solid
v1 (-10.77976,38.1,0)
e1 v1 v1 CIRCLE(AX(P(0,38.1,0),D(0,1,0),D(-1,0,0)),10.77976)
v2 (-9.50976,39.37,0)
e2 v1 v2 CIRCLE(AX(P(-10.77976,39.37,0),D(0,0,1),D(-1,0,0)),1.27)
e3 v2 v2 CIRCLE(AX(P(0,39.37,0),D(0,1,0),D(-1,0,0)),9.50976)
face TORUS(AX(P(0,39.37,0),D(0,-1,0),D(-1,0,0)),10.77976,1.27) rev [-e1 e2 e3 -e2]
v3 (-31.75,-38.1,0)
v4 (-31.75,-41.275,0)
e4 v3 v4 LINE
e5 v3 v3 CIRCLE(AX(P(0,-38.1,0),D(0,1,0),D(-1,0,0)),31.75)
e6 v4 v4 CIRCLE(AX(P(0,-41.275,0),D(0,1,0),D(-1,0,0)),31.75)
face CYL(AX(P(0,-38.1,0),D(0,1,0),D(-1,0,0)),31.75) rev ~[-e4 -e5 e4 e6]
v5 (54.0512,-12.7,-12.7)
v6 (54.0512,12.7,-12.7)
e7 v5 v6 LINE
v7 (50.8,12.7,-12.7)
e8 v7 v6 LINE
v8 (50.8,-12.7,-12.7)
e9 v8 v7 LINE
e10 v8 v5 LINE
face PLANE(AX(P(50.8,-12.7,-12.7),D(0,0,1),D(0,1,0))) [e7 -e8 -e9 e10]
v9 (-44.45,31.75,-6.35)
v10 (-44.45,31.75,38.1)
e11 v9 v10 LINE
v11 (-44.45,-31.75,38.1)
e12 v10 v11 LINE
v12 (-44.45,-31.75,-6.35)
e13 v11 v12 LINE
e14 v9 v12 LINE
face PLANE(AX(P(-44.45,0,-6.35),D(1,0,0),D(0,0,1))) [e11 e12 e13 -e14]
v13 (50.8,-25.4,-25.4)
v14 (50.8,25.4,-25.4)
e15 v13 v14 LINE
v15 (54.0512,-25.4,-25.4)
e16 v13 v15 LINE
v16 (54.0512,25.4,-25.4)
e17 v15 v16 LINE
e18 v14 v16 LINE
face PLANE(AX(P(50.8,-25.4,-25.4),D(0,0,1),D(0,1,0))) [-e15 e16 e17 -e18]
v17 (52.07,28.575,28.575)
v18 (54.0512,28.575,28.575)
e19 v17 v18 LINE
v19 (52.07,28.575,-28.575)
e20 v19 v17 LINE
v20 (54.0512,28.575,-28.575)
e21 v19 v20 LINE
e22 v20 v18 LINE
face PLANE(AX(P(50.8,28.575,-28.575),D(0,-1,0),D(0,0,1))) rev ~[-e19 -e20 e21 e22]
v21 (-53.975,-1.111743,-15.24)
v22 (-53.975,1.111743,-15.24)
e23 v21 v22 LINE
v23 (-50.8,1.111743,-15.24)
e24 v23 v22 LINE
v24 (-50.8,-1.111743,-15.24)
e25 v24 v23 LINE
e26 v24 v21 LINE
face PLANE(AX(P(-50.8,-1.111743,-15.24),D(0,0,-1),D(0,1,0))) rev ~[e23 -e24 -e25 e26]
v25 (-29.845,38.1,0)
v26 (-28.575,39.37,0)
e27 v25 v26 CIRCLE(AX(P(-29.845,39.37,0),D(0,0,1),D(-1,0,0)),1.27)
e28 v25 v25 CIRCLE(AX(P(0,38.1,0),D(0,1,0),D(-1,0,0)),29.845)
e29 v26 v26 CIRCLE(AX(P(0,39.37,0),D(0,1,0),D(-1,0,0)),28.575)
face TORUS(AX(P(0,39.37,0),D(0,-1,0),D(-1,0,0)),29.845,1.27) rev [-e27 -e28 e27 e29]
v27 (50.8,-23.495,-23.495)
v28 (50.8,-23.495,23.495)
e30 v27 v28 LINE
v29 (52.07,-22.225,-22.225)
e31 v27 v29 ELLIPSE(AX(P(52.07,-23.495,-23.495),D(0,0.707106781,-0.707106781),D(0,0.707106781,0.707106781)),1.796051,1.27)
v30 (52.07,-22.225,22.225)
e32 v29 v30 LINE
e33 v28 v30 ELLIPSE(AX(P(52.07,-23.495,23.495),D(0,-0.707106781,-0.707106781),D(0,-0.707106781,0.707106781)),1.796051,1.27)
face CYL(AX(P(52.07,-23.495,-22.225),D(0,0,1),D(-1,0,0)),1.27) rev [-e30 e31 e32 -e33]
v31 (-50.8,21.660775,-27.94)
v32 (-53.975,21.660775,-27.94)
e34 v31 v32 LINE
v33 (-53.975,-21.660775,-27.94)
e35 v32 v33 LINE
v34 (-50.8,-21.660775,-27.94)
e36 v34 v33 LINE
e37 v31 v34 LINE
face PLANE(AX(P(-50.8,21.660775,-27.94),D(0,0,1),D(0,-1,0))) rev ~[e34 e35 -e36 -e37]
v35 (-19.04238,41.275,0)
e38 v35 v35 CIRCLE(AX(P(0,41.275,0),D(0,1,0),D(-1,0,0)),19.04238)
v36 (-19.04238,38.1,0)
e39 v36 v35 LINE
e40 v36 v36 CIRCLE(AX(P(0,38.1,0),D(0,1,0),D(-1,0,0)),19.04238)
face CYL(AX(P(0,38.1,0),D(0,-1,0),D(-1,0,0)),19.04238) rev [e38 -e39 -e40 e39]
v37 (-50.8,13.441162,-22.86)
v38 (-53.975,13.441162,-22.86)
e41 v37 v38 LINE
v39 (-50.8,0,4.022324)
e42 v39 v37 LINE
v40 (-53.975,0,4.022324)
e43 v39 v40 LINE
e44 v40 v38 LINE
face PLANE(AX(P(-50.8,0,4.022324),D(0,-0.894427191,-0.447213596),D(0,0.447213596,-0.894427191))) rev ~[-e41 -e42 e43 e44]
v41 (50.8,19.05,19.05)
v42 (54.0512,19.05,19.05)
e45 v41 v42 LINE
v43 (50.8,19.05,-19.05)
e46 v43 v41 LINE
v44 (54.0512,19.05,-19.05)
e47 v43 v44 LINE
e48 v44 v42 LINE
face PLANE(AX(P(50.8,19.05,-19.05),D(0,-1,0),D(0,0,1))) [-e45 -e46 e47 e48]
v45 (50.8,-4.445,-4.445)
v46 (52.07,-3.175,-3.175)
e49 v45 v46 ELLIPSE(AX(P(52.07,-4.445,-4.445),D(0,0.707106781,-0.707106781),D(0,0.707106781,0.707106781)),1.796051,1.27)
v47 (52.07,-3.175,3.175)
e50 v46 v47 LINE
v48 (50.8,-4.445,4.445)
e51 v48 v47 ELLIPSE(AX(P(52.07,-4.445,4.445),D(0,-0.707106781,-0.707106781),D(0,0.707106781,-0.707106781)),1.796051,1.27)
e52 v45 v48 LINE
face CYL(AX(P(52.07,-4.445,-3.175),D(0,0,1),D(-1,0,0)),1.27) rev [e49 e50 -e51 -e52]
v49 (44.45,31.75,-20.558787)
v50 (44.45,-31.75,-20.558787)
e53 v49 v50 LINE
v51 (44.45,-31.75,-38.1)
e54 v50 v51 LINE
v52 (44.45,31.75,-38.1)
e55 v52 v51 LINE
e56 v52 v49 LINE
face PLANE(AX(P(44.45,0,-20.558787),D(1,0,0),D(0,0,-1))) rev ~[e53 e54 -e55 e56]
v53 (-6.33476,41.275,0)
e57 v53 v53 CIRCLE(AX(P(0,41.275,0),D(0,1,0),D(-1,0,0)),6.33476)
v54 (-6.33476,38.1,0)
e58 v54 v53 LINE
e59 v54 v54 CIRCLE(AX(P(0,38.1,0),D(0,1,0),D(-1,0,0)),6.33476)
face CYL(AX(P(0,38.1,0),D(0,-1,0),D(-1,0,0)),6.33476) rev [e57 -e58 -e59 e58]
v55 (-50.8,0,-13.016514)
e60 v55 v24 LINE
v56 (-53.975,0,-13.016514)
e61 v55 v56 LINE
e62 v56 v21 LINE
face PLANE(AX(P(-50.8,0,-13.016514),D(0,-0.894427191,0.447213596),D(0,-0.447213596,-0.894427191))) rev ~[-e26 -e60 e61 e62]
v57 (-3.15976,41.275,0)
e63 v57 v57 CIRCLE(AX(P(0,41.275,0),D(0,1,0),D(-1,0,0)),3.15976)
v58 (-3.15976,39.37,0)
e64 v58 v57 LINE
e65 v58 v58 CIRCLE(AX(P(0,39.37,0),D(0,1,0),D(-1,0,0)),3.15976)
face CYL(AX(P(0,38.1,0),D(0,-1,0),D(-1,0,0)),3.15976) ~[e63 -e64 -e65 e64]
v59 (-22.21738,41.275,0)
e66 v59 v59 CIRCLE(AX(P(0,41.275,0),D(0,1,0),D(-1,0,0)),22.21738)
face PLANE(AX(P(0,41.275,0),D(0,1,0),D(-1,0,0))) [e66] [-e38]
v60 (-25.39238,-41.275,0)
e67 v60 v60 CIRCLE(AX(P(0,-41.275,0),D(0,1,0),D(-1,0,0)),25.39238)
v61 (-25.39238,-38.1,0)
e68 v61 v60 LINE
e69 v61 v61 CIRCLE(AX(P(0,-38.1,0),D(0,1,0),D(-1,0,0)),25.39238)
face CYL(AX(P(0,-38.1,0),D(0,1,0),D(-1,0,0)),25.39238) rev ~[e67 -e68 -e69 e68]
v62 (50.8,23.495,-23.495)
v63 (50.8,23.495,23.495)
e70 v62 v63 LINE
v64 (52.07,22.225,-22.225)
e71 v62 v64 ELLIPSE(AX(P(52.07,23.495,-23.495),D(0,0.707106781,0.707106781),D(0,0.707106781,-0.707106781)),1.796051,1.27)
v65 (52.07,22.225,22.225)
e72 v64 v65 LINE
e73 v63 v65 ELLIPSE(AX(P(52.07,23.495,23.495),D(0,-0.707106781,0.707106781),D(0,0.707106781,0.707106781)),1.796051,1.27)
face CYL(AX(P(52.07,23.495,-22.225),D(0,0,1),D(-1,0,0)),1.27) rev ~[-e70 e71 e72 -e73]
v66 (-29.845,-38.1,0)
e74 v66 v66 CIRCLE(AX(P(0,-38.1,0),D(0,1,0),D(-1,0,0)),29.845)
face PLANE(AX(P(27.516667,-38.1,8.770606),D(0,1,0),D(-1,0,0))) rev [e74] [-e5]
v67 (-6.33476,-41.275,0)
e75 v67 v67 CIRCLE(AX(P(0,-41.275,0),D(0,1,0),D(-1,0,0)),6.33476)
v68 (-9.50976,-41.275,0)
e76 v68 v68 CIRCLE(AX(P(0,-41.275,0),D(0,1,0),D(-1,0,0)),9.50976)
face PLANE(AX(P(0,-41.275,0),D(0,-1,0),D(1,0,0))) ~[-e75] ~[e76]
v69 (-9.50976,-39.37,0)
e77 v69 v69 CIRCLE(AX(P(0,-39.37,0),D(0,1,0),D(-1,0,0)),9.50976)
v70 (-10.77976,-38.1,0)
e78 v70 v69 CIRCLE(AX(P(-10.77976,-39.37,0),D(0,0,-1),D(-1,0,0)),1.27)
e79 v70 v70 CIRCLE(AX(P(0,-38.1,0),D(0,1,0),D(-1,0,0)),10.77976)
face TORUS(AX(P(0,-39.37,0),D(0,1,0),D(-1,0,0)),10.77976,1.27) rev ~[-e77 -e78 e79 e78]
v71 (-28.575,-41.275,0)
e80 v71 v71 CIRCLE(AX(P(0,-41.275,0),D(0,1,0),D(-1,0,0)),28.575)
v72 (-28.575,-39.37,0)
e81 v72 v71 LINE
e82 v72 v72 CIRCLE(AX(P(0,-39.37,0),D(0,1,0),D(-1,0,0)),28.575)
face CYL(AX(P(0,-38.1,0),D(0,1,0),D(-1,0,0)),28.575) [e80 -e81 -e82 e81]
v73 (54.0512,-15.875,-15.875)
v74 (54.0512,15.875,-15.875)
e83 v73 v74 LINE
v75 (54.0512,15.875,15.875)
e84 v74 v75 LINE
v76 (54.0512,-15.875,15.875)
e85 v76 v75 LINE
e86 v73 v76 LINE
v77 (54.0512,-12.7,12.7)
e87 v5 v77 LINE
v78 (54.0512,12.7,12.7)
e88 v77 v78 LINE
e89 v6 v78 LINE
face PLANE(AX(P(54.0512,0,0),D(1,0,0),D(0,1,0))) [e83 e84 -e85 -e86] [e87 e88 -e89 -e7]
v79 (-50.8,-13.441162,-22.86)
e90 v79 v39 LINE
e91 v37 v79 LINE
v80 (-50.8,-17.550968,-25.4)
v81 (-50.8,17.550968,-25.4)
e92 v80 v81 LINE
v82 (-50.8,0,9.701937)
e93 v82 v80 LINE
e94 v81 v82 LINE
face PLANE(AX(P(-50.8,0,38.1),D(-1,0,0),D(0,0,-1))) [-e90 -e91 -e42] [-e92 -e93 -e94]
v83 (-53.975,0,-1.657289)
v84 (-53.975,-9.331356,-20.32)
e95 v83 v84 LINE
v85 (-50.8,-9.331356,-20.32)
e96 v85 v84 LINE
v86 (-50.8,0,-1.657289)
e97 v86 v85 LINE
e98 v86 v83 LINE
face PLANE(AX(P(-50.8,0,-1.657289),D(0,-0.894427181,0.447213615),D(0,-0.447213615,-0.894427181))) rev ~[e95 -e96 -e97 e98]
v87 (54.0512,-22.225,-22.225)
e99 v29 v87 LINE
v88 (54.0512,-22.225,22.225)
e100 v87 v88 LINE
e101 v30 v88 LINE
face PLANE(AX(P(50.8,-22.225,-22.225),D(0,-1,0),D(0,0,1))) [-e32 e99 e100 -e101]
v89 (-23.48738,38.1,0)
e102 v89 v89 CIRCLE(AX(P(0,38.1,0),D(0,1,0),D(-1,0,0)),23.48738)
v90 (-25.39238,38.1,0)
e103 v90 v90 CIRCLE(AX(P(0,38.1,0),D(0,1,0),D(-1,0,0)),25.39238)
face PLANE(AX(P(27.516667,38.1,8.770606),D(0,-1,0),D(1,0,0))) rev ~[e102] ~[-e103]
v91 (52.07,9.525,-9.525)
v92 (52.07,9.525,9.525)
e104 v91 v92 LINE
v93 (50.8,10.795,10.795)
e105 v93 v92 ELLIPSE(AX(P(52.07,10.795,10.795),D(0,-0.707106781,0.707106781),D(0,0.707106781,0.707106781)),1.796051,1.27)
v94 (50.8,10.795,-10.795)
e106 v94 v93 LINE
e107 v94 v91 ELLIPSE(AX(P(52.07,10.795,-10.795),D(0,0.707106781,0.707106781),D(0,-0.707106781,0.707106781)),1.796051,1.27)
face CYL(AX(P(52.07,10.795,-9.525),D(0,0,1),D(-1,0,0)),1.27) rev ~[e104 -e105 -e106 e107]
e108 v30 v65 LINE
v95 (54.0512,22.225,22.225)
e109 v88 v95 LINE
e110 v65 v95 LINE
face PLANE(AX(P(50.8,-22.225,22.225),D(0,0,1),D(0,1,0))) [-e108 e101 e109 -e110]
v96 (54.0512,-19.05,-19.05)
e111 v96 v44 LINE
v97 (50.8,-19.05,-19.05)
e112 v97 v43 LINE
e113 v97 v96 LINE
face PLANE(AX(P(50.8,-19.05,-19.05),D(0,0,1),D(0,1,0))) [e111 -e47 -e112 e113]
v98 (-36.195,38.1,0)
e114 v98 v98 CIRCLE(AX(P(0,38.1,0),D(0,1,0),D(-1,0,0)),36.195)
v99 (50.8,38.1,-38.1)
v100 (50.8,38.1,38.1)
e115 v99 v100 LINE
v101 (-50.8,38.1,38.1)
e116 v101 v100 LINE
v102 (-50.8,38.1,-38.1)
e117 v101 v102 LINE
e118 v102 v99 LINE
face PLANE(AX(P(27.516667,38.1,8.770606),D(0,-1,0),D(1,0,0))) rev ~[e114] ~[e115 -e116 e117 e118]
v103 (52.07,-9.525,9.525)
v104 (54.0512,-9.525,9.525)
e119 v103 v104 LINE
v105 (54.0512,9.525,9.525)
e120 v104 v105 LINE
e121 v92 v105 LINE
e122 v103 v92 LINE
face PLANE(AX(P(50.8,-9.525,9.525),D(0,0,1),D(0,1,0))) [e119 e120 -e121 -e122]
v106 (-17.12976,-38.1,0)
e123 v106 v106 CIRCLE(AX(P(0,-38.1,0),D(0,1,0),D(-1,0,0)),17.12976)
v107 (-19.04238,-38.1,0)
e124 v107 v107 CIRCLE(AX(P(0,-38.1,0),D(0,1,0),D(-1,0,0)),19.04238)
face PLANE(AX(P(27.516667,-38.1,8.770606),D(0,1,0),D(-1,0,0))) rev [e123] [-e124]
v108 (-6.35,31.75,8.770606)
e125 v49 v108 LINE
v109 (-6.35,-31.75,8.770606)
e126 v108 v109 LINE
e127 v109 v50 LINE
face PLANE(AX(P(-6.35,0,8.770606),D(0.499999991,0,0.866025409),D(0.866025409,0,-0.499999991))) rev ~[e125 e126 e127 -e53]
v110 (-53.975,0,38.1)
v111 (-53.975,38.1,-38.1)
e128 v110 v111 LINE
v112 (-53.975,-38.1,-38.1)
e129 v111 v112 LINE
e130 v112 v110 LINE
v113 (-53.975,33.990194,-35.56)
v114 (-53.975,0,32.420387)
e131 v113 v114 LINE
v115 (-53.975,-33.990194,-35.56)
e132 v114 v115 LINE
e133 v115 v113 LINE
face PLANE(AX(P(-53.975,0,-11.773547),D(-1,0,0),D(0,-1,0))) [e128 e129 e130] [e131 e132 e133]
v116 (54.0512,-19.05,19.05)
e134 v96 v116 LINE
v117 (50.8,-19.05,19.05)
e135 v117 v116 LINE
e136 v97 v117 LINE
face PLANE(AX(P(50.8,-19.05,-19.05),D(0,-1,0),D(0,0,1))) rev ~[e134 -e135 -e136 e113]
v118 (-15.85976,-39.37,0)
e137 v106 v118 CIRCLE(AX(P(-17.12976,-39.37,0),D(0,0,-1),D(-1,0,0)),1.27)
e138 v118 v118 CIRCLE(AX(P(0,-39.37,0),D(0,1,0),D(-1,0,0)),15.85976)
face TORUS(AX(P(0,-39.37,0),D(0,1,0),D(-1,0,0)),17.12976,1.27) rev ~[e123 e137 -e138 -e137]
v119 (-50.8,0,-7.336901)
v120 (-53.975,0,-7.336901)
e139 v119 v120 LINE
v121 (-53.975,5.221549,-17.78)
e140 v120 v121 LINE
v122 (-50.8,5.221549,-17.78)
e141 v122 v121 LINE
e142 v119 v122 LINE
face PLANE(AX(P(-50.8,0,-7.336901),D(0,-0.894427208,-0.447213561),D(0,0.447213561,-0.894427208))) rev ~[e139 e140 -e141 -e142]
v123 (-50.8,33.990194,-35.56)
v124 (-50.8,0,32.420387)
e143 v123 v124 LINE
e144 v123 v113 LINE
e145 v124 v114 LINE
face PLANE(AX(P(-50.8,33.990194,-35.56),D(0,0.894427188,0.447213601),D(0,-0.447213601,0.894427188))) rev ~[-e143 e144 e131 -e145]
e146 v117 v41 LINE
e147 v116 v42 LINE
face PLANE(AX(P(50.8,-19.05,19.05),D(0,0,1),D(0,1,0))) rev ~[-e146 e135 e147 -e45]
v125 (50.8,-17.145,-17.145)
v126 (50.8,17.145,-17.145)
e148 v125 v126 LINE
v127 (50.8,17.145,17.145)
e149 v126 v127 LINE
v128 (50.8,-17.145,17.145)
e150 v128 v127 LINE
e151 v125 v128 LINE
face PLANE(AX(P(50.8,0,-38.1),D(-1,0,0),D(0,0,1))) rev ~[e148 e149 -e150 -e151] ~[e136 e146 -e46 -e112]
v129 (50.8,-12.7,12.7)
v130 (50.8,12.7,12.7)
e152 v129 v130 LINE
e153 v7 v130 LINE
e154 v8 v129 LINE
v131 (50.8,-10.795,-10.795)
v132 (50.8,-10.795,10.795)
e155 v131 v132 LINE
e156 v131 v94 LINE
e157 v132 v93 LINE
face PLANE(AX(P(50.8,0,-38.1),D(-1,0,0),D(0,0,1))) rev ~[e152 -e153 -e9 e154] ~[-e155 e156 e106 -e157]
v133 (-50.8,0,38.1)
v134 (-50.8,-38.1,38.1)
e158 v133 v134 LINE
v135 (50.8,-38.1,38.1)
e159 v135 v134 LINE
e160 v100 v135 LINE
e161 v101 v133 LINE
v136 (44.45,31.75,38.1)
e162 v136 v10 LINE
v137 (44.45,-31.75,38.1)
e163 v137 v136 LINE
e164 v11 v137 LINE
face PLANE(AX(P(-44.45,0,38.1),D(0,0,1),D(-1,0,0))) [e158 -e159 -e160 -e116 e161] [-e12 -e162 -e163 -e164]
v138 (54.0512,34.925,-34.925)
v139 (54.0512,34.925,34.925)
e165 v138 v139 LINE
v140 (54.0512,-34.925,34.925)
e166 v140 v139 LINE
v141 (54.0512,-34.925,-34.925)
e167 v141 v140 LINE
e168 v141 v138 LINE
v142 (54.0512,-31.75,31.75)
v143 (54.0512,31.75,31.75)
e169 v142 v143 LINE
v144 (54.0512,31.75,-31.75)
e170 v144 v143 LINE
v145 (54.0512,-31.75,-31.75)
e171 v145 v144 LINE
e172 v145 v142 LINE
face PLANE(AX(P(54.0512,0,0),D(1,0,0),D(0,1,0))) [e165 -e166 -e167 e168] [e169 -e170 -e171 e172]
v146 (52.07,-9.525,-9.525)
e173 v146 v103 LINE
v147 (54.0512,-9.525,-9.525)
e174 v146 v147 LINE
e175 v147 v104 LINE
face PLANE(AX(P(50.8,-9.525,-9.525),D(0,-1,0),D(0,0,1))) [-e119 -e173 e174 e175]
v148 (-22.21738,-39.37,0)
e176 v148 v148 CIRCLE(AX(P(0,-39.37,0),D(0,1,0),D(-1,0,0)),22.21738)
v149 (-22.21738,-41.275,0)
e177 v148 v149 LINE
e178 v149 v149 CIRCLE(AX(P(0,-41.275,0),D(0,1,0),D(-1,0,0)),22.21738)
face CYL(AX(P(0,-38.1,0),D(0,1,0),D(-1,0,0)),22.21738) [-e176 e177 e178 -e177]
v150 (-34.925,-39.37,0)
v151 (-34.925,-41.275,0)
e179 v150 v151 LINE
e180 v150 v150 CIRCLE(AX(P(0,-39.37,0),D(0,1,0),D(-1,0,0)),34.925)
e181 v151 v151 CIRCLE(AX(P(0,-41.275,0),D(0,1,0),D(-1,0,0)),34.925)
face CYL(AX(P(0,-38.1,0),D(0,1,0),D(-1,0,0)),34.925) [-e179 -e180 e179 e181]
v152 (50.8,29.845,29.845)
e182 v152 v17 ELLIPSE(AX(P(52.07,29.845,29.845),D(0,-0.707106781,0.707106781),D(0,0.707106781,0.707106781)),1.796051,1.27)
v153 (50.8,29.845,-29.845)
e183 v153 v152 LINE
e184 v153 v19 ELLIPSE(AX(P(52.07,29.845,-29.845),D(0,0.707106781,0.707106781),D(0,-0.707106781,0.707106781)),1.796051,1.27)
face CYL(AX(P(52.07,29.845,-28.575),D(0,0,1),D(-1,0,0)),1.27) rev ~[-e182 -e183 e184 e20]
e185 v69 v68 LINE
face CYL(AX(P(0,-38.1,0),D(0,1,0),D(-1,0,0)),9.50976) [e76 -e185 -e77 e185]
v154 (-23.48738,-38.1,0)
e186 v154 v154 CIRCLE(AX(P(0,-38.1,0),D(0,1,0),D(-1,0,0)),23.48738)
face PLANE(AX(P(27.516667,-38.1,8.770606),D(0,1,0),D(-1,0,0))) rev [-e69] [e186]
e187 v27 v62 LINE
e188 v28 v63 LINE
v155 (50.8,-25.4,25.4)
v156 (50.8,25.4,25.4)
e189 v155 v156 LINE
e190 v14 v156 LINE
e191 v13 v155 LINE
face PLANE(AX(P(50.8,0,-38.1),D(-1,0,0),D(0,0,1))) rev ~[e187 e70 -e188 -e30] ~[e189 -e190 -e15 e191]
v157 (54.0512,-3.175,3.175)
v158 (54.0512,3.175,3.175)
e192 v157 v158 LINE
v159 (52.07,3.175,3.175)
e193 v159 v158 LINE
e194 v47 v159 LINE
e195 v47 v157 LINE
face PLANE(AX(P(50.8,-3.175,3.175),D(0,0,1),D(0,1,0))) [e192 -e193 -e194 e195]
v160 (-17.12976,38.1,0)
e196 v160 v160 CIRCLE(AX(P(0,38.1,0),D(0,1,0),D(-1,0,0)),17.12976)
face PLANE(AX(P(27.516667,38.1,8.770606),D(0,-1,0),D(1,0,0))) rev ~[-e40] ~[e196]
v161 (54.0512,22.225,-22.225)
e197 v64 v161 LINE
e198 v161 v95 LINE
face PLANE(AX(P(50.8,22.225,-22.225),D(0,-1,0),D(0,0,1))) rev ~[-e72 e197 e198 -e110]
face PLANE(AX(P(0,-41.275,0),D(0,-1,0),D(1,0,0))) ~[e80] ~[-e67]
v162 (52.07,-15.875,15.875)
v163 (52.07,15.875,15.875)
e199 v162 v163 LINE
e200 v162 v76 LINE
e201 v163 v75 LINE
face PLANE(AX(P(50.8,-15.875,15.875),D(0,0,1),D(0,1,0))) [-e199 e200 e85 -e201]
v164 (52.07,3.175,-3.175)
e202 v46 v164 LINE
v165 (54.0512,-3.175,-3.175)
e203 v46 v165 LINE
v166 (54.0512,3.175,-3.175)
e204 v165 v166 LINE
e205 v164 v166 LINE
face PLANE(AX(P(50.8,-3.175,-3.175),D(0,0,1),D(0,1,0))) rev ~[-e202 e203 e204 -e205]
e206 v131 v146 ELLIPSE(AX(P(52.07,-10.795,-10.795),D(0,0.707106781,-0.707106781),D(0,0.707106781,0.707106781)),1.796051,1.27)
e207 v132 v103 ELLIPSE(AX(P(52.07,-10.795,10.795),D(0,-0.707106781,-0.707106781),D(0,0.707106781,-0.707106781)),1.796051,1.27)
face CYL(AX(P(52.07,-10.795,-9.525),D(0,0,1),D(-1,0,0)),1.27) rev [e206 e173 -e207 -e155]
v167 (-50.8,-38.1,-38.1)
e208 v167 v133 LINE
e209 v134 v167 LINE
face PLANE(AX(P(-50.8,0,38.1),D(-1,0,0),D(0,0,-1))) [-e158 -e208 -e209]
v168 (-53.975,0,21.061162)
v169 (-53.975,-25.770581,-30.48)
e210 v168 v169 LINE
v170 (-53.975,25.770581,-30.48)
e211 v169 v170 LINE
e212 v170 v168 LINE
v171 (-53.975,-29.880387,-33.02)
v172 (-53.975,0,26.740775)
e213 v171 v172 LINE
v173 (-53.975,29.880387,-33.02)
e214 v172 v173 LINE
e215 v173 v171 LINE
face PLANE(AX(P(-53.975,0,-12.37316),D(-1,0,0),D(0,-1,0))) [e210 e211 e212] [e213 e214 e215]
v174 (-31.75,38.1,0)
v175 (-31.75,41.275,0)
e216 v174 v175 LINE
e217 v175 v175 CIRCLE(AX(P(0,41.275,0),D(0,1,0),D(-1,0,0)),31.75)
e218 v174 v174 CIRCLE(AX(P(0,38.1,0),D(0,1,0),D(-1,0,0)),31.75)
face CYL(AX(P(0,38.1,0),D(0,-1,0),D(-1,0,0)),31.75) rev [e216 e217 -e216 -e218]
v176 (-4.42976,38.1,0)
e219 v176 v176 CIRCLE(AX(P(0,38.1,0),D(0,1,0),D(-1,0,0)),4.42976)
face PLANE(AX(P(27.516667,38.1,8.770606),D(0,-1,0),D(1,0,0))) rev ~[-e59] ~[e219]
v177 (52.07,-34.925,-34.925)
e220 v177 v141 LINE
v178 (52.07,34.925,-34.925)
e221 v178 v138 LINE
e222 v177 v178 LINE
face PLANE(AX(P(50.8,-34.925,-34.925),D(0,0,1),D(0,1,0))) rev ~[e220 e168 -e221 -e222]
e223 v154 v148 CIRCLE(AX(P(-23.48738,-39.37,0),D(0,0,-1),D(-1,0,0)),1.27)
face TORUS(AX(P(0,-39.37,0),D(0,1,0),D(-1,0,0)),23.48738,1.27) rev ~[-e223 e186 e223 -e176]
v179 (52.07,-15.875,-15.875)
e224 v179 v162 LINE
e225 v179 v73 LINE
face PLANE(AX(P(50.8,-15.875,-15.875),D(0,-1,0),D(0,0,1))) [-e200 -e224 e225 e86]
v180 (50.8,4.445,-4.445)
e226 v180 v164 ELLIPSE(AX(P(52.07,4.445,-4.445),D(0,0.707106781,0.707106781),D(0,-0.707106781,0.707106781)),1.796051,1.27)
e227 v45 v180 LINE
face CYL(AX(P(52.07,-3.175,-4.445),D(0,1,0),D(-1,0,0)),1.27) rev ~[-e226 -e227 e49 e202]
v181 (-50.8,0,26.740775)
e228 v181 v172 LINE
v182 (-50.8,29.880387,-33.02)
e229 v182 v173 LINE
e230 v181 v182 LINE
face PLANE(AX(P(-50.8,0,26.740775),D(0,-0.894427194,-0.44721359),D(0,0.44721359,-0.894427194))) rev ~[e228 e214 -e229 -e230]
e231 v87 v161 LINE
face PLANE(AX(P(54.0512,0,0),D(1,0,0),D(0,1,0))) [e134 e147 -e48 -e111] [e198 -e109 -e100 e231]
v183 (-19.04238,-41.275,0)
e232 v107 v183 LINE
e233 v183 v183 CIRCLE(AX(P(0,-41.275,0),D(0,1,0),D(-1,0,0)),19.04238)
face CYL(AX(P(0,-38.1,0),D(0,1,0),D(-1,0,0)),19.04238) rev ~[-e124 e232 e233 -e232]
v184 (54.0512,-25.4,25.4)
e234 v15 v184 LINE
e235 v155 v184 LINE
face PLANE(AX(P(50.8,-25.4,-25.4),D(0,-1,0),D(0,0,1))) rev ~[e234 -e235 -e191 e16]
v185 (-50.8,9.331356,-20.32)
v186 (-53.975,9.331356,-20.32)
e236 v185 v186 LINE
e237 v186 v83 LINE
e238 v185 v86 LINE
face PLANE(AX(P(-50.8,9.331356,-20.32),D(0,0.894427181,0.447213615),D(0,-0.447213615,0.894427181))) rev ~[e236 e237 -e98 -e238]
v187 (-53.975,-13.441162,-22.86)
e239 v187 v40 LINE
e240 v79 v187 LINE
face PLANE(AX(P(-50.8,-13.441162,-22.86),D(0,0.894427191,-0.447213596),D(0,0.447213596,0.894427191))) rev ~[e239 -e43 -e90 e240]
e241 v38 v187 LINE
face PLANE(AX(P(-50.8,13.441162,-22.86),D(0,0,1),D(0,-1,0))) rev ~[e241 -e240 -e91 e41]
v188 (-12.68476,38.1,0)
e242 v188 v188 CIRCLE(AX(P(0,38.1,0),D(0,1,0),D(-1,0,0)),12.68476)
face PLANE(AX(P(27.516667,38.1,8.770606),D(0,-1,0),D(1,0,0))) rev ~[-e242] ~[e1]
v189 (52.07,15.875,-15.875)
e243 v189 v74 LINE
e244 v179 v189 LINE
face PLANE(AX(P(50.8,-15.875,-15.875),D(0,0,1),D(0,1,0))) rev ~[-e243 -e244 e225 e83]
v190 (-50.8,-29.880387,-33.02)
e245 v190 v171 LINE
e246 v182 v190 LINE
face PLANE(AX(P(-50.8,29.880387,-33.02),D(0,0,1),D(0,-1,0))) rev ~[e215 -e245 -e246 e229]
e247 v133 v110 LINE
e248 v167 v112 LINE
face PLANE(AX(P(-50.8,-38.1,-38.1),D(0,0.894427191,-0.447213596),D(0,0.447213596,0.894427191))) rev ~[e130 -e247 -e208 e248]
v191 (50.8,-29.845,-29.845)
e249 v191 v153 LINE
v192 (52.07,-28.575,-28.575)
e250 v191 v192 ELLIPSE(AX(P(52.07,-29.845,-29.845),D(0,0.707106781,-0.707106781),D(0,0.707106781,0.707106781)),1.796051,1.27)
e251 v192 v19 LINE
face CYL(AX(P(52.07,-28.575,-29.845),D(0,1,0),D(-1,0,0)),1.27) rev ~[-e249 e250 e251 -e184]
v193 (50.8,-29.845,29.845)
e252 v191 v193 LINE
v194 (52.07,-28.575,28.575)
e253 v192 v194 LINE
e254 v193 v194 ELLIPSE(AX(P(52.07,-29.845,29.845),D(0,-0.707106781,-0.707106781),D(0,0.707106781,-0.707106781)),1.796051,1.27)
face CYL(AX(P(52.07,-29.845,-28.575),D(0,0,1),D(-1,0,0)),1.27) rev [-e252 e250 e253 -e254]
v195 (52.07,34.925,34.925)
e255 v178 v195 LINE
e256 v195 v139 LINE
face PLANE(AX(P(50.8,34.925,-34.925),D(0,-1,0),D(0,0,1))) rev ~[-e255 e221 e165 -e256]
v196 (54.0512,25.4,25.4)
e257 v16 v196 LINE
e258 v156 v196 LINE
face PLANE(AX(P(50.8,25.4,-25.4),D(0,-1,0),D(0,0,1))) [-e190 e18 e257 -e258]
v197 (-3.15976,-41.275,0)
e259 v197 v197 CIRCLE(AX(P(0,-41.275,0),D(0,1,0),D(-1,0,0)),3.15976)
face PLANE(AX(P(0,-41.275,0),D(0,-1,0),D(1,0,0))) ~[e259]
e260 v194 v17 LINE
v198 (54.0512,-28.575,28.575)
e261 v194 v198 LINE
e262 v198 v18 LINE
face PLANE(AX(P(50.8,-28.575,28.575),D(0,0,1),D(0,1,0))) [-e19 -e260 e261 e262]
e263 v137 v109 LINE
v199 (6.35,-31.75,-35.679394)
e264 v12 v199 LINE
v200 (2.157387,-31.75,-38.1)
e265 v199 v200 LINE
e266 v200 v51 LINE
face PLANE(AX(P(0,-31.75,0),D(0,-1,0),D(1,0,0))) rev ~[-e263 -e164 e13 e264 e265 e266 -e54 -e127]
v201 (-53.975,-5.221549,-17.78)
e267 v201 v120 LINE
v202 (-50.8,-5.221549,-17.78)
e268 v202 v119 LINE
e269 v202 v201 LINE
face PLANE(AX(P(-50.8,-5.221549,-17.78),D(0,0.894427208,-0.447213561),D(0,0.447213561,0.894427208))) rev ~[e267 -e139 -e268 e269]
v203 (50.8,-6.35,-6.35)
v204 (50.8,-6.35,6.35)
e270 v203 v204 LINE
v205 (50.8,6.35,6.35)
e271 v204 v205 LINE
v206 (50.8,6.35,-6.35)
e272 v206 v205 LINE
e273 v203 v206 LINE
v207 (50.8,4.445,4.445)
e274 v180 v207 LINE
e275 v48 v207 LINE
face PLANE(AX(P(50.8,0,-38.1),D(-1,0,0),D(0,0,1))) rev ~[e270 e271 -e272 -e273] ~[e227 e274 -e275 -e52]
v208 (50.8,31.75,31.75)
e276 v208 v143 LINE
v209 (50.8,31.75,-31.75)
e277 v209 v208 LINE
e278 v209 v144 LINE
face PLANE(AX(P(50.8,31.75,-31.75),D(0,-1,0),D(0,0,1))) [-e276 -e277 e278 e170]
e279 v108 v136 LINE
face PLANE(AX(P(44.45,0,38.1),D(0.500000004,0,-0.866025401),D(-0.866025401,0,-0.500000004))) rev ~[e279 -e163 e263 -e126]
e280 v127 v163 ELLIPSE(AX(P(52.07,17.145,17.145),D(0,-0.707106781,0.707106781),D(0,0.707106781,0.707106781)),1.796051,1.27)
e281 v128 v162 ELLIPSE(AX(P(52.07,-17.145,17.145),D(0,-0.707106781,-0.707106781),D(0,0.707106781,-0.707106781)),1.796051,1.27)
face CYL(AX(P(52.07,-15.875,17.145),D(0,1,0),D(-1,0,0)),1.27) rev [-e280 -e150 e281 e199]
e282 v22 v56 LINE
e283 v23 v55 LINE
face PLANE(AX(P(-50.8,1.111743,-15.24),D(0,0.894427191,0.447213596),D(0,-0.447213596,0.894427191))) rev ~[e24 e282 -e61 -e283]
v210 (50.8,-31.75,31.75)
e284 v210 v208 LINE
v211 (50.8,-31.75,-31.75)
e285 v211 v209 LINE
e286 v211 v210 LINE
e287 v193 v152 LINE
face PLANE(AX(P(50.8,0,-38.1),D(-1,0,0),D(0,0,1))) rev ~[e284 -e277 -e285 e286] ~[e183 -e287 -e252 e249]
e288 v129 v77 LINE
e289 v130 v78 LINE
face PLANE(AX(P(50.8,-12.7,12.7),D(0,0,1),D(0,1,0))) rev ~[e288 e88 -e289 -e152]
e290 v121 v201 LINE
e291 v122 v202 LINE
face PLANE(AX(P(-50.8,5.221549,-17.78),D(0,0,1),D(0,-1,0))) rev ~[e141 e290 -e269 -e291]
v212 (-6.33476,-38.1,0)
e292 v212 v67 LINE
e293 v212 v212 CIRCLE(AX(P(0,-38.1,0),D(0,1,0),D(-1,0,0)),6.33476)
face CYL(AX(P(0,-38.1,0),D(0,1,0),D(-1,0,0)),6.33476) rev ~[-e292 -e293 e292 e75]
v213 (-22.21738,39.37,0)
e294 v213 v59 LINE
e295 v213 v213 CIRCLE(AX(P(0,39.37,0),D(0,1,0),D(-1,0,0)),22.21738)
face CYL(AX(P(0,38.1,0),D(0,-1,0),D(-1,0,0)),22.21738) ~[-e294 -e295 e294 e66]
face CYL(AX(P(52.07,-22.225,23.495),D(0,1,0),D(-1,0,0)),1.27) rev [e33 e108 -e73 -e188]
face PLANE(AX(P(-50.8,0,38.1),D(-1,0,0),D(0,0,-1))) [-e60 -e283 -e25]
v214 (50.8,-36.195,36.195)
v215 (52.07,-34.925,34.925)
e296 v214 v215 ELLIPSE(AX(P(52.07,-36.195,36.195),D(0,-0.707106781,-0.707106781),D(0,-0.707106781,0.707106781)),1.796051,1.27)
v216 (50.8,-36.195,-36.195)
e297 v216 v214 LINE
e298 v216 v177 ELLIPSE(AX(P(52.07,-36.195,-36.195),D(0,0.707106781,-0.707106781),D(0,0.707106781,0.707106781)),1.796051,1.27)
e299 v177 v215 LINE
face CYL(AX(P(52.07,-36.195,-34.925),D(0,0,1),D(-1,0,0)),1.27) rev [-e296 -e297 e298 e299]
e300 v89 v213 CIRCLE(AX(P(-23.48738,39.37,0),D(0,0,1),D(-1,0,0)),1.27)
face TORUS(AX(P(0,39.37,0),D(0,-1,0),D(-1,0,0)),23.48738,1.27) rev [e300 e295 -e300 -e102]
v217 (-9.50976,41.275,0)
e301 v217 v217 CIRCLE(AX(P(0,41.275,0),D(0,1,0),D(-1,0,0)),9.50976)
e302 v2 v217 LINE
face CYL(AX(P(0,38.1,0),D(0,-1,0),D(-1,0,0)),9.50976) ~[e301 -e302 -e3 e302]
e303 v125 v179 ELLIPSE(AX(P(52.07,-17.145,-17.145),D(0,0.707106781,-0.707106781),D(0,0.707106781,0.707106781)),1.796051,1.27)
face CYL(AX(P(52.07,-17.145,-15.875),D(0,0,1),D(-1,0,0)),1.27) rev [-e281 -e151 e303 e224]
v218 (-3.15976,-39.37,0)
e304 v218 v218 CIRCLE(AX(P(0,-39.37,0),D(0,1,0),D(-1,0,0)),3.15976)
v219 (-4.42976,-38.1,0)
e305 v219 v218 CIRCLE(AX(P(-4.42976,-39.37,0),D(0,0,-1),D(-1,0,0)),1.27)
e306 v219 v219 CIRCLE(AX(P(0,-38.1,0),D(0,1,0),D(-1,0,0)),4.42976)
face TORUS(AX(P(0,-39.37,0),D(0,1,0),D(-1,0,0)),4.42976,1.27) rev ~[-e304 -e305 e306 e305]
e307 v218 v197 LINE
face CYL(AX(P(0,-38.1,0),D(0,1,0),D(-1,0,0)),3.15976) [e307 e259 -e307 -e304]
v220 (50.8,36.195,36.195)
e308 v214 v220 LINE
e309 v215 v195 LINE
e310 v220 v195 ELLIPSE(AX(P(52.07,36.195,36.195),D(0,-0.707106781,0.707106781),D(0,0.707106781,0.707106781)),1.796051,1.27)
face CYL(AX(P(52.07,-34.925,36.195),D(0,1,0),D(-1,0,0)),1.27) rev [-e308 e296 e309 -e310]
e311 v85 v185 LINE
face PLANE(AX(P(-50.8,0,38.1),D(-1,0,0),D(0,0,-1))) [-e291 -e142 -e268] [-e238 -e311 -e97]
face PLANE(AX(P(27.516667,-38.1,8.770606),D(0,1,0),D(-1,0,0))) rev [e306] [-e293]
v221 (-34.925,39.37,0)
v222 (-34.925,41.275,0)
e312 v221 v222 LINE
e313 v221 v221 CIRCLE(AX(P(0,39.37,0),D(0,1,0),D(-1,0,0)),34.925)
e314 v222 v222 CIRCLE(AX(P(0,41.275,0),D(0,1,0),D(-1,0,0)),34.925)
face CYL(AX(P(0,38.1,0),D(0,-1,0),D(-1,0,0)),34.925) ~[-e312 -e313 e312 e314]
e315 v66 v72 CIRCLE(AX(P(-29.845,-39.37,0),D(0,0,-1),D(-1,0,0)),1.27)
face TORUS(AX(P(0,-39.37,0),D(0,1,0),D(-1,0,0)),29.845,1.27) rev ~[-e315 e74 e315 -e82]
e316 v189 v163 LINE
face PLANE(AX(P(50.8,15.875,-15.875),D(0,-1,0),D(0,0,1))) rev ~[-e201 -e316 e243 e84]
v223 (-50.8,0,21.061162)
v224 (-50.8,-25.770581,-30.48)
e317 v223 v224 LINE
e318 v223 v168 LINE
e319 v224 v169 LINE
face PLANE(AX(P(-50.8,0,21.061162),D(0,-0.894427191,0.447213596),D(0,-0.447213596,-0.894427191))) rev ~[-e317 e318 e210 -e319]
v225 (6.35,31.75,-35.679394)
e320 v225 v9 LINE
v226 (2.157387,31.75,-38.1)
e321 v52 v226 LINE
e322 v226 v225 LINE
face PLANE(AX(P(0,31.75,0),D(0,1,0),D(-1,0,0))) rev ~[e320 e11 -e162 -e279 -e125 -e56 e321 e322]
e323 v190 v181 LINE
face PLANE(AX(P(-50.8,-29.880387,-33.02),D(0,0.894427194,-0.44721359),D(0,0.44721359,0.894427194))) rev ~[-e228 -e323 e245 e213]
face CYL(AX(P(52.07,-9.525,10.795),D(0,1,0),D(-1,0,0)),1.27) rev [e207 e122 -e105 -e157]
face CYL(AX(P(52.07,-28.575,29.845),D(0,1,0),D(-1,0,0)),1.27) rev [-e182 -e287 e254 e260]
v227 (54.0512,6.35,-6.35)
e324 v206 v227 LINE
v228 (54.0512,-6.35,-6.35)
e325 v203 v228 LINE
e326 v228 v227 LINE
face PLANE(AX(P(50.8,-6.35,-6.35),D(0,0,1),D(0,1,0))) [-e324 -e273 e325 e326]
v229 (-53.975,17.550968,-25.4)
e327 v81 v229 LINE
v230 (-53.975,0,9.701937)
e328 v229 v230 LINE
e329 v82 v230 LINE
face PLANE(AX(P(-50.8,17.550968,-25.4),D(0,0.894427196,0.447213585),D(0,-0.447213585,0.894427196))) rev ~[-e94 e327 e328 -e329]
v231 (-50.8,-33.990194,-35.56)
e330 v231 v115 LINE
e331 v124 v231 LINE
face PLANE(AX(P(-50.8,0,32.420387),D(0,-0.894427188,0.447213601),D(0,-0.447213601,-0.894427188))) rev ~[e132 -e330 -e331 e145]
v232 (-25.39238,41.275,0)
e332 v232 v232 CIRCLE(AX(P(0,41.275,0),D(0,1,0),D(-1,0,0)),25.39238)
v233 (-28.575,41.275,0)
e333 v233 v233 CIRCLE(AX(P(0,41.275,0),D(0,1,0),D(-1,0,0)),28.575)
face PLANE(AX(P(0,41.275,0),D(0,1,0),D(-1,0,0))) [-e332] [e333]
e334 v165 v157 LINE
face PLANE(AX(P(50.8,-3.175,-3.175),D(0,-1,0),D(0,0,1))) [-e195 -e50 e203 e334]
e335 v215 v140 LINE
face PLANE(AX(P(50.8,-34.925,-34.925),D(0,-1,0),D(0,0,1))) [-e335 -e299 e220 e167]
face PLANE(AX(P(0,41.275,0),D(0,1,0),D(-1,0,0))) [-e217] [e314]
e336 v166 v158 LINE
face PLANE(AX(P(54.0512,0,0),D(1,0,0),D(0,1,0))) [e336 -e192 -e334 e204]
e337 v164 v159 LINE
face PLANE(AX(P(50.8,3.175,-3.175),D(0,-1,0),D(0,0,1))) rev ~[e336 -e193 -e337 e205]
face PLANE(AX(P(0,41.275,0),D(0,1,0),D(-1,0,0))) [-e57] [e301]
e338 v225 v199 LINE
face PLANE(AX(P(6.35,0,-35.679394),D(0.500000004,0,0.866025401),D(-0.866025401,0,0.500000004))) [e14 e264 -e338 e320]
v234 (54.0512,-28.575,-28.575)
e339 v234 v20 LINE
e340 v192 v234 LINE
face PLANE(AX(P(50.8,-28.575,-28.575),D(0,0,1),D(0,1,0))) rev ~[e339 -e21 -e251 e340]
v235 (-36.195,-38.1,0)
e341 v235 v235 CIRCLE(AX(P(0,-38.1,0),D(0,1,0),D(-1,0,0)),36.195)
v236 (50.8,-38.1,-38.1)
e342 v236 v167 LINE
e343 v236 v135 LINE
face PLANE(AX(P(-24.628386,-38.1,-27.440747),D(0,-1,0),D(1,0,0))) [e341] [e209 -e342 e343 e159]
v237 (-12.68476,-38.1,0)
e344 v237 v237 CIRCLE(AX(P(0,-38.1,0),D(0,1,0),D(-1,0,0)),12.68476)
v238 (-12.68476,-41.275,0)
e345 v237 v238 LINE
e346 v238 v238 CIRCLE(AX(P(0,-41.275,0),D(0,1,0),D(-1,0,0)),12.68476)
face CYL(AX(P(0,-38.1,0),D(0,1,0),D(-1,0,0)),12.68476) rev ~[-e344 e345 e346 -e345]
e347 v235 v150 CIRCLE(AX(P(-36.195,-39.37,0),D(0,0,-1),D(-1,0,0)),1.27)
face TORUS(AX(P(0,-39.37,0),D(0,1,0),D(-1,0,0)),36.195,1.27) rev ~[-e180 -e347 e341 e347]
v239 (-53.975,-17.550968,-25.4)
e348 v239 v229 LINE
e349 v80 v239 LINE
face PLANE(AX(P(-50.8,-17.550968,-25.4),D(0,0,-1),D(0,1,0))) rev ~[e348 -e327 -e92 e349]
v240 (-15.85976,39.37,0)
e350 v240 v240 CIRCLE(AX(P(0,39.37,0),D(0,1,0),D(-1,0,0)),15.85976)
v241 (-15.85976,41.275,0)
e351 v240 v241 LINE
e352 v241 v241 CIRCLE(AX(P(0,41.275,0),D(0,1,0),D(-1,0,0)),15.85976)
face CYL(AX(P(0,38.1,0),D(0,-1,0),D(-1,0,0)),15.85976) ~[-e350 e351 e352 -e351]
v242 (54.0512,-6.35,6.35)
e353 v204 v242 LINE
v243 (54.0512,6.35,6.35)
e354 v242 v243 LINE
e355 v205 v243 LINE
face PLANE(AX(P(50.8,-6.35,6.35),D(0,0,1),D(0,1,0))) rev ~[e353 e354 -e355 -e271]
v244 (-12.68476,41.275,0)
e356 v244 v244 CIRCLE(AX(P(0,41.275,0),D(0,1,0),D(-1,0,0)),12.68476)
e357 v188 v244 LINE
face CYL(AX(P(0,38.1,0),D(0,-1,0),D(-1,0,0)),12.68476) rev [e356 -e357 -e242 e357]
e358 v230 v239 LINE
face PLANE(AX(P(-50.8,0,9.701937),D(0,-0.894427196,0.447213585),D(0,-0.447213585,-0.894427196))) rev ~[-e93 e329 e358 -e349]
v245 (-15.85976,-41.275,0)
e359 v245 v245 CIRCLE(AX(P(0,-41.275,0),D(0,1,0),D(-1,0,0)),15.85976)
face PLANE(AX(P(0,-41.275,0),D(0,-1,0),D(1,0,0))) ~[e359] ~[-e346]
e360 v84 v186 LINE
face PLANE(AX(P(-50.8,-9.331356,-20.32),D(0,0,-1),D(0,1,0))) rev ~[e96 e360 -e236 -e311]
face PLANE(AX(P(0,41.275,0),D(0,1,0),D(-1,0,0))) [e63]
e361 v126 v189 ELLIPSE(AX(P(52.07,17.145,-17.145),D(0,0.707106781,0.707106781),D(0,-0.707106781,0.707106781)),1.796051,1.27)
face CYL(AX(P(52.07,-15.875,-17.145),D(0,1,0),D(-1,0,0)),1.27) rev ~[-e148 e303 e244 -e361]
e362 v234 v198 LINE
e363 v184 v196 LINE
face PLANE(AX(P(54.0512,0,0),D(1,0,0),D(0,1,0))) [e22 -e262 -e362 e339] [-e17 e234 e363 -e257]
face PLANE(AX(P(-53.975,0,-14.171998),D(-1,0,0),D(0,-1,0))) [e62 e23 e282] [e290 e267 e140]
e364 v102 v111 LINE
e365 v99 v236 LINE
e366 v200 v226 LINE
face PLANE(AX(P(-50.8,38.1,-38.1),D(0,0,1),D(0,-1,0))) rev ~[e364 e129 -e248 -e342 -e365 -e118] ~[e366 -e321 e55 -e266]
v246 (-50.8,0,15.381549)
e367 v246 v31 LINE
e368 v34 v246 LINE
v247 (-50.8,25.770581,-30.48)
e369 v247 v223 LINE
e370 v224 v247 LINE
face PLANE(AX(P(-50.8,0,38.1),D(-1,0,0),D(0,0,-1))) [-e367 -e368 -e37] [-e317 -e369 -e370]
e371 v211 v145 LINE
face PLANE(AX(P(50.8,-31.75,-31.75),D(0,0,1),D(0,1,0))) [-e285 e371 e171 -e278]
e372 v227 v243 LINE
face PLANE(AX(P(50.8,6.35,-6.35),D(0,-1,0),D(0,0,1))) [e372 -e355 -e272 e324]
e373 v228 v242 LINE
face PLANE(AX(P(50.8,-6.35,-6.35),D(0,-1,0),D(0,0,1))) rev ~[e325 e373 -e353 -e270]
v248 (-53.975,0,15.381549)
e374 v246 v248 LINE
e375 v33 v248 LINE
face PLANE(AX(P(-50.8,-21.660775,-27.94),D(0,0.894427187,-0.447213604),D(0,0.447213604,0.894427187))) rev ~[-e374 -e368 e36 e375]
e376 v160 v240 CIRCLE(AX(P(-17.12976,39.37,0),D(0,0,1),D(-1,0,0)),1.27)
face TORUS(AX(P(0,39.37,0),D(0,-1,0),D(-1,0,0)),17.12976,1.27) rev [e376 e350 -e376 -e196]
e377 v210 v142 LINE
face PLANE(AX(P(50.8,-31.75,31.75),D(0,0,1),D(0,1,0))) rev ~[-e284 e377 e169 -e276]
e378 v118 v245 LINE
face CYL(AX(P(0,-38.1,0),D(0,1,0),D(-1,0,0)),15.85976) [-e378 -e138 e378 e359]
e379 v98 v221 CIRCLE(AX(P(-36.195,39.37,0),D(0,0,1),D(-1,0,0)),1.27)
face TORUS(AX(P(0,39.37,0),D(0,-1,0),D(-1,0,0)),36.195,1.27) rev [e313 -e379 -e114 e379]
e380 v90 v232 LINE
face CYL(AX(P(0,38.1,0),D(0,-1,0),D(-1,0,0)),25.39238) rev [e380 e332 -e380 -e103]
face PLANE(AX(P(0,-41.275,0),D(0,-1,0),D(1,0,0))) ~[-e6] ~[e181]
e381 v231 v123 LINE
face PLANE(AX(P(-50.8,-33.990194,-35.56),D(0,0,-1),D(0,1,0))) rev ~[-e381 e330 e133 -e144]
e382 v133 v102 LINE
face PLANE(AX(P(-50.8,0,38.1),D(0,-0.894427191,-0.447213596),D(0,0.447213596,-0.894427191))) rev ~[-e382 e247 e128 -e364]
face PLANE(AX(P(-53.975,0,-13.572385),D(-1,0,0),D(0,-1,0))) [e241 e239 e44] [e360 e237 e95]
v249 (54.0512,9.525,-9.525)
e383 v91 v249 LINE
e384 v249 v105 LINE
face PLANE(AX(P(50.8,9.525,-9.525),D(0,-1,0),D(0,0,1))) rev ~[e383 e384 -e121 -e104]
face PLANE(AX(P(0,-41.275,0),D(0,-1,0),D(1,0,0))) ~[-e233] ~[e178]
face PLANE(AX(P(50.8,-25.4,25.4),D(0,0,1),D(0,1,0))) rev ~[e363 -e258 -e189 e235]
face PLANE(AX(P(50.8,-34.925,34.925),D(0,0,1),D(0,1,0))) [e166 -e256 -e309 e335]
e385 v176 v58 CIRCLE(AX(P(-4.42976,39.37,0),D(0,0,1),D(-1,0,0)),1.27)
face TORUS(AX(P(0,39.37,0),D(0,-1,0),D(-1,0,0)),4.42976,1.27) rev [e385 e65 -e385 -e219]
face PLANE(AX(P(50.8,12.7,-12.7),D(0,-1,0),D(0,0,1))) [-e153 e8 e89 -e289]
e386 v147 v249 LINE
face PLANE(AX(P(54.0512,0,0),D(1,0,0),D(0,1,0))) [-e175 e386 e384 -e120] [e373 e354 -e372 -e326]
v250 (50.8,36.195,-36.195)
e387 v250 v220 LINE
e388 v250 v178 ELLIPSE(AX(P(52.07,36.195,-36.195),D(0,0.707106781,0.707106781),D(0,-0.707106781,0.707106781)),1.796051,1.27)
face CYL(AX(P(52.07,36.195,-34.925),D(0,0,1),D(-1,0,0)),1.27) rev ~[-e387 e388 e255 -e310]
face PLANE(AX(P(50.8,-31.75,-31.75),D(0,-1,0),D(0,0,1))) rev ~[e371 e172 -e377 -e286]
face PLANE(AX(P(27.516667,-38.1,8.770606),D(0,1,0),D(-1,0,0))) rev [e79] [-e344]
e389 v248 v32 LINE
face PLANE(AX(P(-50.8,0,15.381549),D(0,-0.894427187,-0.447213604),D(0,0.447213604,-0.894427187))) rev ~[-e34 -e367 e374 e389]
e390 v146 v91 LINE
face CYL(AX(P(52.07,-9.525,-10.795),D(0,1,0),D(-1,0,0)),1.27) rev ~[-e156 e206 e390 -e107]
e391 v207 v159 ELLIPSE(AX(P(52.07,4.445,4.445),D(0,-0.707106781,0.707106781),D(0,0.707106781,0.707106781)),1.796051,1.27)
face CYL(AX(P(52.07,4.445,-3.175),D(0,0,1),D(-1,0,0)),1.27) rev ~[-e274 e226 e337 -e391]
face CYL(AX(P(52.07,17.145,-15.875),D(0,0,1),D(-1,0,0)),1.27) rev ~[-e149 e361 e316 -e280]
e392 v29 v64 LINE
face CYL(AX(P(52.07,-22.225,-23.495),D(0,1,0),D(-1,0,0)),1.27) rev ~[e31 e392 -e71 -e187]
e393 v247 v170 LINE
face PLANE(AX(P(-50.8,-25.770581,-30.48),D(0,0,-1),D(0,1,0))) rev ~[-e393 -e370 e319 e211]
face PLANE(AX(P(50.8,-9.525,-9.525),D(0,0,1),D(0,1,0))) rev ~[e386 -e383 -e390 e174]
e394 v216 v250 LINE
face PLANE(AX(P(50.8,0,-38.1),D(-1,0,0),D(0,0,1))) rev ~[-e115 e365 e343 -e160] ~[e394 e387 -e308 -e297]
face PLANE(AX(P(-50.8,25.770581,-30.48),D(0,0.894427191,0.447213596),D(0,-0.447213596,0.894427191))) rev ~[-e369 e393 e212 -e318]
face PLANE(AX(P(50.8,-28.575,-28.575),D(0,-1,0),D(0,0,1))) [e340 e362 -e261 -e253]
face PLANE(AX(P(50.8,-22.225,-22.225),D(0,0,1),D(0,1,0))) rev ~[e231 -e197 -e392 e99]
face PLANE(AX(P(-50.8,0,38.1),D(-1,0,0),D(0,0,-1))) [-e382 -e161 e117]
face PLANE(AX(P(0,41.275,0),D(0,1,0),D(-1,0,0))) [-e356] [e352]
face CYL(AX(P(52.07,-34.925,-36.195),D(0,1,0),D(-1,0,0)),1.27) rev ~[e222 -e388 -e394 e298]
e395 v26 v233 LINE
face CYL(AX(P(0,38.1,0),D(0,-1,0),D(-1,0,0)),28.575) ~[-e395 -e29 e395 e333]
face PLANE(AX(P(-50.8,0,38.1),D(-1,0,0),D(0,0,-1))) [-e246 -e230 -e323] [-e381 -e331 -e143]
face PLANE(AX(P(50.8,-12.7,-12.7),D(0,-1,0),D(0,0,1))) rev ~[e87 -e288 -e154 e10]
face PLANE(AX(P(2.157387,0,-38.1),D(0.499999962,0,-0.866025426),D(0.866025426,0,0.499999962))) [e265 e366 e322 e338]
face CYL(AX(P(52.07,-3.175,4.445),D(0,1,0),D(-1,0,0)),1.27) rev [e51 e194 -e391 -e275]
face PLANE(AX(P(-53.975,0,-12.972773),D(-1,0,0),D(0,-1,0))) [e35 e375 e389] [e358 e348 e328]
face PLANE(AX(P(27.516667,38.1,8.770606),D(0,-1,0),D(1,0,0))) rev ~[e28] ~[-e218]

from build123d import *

# Parameters (mm, degrees)
F1_DEPTH  = 38.1
F2_W      = 101.6
F2_H      = 76.2
F3_DEPTH  = 6.35
F4_W      = 101.6
F4_H      = 76.2
F5_DEPTH  = 6.35
F6_W      = 69.85
F6_H      = 69.85
F6_W_2    = 63.5
F6_H_2    = 63.5
F6_W_3    = 57.15
F6_H_3    = 57.15
F6_W_4    = 50.8
F6_H_4    = 50.8
F6_W_5    = 44.45
F6_H_5    = 44.45
F6_W_6    = 38.1
F6_H_6    = 38.1
F6_W_7    = 31.75
F6_H_7    = 31.75
F6_W_8    = 25.4
F6_H_8    = 25.4
F6_W_9    = 19.05
F6_H_9    = 19.05
F6_W_10   = 12.7
F6_H_10   = 12.7
F6_W_11   = 6.35
F6_H_11   = 6.35
F7_DEPTH  = 3.2512
F8_R      = 34.925
F8_R_2    = 31.75
F8_R_3    = 28.575
F8_R_4    = 25.39238
F8_R_5    = 22.21738
F8_R_6    = 19.04238
F8_R_7    = 15.85976
F8_R_8    = 12.68476
F8_R_9    = 9.50976
F8_R_10   = 6.33476
F8_R_11   = 3.15976
F9_DEPTH  = 3.175
F10_R     = 1.27
F11_R     = 1.27
F14_DEPTH = 3.175


with BuildPart() as f1:
    # F0 (on Front) → F1 (new body, symmetric)
    with BuildSketch(Plane.XZ):
        Polygon((44.45, -20.558787), (44.45, 38.1), (-6.35, 8.770606), align=None)
        Polygon((50.8, -38.1), (50.8, 38.1), (44.45, 38.1), (44.45, -20.558787), (44.45, -38.1), align=None)
        Polygon((-44.45, -38.1), (2.157387, -38.1), (6.35, -35.679394), (-44.45, -6.35), align=None)
        Polygon((-44.45, -6.35), (-44.45, 38.1), (-50.8, 38.1), (-50.8, -38.1), (-44.45, -38.1), align=None)
    extrude(amount=F1_DEPTH, both=True)

    # F2 (on face) → F3 (join)
    with BuildSketch(Plane.XZ.offset(38.1)):
        Rectangle(F2_W, F2_H)
    extrude(amount=-F3_DEPTH)

    # F4 (on face) → F5 (join)
    with BuildSketch(Plane(origin=(0, 38.1, 0), x_dir=(-1, 0, 0), z_dir=(0, 1, 0))):
        Rectangle(F4_W, F4_H)
    extrude(amount=-F5_DEPTH)

    # F6 (on face) → F7 (join)
    with BuildSketch(Plane.YZ.offset(50.8)):
        Rectangle(F6_W, F6_H)
        Rectangle(F6_W_2, F6_H_2, mode=Mode.SUBTRACT)
        Rectangle(F6_W_3, F6_H_3)
        Rectangle(F6_W_4, F6_H_4, mode=Mode.SUBTRACT)
        Rectangle(F6_W_5, F6_H_5)
        Rectangle(F6_W_6, F6_H_6, mode=Mode.SUBTRACT)
        Rectangle(F6_W_7, F6_H_7)
        Rectangle(F6_W_8, F6_H_8, mode=Mode.SUBTRACT)
        Rectangle(F6_W_9, F6_H_9)
        Rectangle(F6_W_10, F6_H_10, mode=Mode.SUBTRACT)
        Rectangle(F6_W_11, F6_H_11)
    extrude(amount=F7_DEPTH)

    # F8 (on face) → F9 (join)
    with BuildSketch(Plane(origin=(0, 38.1, 0), x_dir=(-1, 0, 0), z_dir=(0, 1, 0))):
        Circle(F8_R)
        Circle(F8_R_2, mode=Mode.SUBTRACT)
        Circle(F8_R_3)
        Circle(F8_R_4, mode=Mode.SUBTRACT)
        Circle(F8_R_5)
        Circle(F8_R_6, mode=Mode.SUBTRACT)
        Circle(F8_R_7)
        Circle(F8_R_8, mode=Mode.SUBTRACT)
        Circle(F8_R_9)
        Circle(F8_R_10, mode=Mode.SUBTRACT)
        Circle(F8_R_11)
    extrude(amount=F9_DEPTH)

    # F10
    f10_edges = [f1.edges().sort_by_distance(p)[0] for p in [
        (50.8, -34.925, 0),
        (50.8, 0, 34.925),
        (50.8, 34.925, 0),
        (50.8, 0, -34.925),
        (50.8, 28.575, 0),
        (50.8, 0, 28.575),
        (50.8, -28.575, 0),
        (50.8, 0, -28.575),
        (50.8, 0, -22.225),
        (50.8, -22.225, 0),
        (50.8, 22.225, 0),
        (50.8, 0, 22.225),
        (50.8, 0, 15.875),
        (50.8, 15.875, 0),
        (50.8, 0, 9.525),
        (50.8, 9.525, 0),
        (50.8, 0, 3.175),
        (50.8, 3.175, 0),
        (50.8, -3.175, 0),
        (50.8, 0, -3.175),
        (50.8, -9.525, 0),
        (50.8, 0, -9.525),
        (50.8, -15.875, 0),
        (50.8, 0, -15.875),
    ]]
    fillet(f10_edges, radius=F10_R)

    # F11
    f11_edges = [f1.edges().sort_by_distance(p)[0] for p in [
        (34.925, 38.1, 0),
        (28.575, 38.1, 0),
        (22.21738, 38.1, 0),
        (15.85976, 38.1, 0),
        (9.50976, 38.1, 0),
        (3.15976, 38.1, 0),
    ]]
    fillet(f11_edges, radius=F11_R)

    # F12: F1 across plane


with BuildPart() as f1_1:
    add(f1.part)
    add(f1.part.mirror(Plane.XZ))

    # F13 (on face) → F14 (join)
    with BuildSketch(Plane(origin=(-50.8, 0, 0), x_dir=(0, -1, 0), z_dir=(-1, 0, 0))):
        Polygon((-38.1, -38.1), (38.1, -38.1), (0, 38.1), align=None)
        Polygon((33.990194, -35.56), (-33.990194, -35.56), (0, 32.420387), align=None, mode=Mode.SUBTRACT)
        Polygon((0, 26.740775), (-29.880387, -33.02), (29.880387, -33.02), align=None)
        Polygon((25.770581, -30.48), (-25.770581, -30.48), (0, 21.061162), align=None, mode=Mode.SUBTRACT)
        Polygon((0, 15.381549), (-21.660775, -27.94), (21.660775, -27.94), align=None)
        Polygon((17.550968, -25.4), (-17.550968, -25.4), (0, 9.701937), align=None, mode=Mode.SUBTRACT)
        Polygon((0, 4.022324), (-13.441162, -22.86), (13.441162, -22.86), align=None)
        Polygon((9.331356, -20.32), (-9.331356, -20.32), (0, -1.657289), align=None, mode=Mode.SUBTRACT)
        Polygon((5.221549, -17.78), (0, -7.336901), (-5.221549, -17.78), align=None)
        Polygon((1.111743, -15.24), (-1.111743, -15.24), (0, -13.016514), align=None, mode=Mode.SUBTRACT)
    extrude(amount=F14_DEPTH)


solid = f1_1.part
